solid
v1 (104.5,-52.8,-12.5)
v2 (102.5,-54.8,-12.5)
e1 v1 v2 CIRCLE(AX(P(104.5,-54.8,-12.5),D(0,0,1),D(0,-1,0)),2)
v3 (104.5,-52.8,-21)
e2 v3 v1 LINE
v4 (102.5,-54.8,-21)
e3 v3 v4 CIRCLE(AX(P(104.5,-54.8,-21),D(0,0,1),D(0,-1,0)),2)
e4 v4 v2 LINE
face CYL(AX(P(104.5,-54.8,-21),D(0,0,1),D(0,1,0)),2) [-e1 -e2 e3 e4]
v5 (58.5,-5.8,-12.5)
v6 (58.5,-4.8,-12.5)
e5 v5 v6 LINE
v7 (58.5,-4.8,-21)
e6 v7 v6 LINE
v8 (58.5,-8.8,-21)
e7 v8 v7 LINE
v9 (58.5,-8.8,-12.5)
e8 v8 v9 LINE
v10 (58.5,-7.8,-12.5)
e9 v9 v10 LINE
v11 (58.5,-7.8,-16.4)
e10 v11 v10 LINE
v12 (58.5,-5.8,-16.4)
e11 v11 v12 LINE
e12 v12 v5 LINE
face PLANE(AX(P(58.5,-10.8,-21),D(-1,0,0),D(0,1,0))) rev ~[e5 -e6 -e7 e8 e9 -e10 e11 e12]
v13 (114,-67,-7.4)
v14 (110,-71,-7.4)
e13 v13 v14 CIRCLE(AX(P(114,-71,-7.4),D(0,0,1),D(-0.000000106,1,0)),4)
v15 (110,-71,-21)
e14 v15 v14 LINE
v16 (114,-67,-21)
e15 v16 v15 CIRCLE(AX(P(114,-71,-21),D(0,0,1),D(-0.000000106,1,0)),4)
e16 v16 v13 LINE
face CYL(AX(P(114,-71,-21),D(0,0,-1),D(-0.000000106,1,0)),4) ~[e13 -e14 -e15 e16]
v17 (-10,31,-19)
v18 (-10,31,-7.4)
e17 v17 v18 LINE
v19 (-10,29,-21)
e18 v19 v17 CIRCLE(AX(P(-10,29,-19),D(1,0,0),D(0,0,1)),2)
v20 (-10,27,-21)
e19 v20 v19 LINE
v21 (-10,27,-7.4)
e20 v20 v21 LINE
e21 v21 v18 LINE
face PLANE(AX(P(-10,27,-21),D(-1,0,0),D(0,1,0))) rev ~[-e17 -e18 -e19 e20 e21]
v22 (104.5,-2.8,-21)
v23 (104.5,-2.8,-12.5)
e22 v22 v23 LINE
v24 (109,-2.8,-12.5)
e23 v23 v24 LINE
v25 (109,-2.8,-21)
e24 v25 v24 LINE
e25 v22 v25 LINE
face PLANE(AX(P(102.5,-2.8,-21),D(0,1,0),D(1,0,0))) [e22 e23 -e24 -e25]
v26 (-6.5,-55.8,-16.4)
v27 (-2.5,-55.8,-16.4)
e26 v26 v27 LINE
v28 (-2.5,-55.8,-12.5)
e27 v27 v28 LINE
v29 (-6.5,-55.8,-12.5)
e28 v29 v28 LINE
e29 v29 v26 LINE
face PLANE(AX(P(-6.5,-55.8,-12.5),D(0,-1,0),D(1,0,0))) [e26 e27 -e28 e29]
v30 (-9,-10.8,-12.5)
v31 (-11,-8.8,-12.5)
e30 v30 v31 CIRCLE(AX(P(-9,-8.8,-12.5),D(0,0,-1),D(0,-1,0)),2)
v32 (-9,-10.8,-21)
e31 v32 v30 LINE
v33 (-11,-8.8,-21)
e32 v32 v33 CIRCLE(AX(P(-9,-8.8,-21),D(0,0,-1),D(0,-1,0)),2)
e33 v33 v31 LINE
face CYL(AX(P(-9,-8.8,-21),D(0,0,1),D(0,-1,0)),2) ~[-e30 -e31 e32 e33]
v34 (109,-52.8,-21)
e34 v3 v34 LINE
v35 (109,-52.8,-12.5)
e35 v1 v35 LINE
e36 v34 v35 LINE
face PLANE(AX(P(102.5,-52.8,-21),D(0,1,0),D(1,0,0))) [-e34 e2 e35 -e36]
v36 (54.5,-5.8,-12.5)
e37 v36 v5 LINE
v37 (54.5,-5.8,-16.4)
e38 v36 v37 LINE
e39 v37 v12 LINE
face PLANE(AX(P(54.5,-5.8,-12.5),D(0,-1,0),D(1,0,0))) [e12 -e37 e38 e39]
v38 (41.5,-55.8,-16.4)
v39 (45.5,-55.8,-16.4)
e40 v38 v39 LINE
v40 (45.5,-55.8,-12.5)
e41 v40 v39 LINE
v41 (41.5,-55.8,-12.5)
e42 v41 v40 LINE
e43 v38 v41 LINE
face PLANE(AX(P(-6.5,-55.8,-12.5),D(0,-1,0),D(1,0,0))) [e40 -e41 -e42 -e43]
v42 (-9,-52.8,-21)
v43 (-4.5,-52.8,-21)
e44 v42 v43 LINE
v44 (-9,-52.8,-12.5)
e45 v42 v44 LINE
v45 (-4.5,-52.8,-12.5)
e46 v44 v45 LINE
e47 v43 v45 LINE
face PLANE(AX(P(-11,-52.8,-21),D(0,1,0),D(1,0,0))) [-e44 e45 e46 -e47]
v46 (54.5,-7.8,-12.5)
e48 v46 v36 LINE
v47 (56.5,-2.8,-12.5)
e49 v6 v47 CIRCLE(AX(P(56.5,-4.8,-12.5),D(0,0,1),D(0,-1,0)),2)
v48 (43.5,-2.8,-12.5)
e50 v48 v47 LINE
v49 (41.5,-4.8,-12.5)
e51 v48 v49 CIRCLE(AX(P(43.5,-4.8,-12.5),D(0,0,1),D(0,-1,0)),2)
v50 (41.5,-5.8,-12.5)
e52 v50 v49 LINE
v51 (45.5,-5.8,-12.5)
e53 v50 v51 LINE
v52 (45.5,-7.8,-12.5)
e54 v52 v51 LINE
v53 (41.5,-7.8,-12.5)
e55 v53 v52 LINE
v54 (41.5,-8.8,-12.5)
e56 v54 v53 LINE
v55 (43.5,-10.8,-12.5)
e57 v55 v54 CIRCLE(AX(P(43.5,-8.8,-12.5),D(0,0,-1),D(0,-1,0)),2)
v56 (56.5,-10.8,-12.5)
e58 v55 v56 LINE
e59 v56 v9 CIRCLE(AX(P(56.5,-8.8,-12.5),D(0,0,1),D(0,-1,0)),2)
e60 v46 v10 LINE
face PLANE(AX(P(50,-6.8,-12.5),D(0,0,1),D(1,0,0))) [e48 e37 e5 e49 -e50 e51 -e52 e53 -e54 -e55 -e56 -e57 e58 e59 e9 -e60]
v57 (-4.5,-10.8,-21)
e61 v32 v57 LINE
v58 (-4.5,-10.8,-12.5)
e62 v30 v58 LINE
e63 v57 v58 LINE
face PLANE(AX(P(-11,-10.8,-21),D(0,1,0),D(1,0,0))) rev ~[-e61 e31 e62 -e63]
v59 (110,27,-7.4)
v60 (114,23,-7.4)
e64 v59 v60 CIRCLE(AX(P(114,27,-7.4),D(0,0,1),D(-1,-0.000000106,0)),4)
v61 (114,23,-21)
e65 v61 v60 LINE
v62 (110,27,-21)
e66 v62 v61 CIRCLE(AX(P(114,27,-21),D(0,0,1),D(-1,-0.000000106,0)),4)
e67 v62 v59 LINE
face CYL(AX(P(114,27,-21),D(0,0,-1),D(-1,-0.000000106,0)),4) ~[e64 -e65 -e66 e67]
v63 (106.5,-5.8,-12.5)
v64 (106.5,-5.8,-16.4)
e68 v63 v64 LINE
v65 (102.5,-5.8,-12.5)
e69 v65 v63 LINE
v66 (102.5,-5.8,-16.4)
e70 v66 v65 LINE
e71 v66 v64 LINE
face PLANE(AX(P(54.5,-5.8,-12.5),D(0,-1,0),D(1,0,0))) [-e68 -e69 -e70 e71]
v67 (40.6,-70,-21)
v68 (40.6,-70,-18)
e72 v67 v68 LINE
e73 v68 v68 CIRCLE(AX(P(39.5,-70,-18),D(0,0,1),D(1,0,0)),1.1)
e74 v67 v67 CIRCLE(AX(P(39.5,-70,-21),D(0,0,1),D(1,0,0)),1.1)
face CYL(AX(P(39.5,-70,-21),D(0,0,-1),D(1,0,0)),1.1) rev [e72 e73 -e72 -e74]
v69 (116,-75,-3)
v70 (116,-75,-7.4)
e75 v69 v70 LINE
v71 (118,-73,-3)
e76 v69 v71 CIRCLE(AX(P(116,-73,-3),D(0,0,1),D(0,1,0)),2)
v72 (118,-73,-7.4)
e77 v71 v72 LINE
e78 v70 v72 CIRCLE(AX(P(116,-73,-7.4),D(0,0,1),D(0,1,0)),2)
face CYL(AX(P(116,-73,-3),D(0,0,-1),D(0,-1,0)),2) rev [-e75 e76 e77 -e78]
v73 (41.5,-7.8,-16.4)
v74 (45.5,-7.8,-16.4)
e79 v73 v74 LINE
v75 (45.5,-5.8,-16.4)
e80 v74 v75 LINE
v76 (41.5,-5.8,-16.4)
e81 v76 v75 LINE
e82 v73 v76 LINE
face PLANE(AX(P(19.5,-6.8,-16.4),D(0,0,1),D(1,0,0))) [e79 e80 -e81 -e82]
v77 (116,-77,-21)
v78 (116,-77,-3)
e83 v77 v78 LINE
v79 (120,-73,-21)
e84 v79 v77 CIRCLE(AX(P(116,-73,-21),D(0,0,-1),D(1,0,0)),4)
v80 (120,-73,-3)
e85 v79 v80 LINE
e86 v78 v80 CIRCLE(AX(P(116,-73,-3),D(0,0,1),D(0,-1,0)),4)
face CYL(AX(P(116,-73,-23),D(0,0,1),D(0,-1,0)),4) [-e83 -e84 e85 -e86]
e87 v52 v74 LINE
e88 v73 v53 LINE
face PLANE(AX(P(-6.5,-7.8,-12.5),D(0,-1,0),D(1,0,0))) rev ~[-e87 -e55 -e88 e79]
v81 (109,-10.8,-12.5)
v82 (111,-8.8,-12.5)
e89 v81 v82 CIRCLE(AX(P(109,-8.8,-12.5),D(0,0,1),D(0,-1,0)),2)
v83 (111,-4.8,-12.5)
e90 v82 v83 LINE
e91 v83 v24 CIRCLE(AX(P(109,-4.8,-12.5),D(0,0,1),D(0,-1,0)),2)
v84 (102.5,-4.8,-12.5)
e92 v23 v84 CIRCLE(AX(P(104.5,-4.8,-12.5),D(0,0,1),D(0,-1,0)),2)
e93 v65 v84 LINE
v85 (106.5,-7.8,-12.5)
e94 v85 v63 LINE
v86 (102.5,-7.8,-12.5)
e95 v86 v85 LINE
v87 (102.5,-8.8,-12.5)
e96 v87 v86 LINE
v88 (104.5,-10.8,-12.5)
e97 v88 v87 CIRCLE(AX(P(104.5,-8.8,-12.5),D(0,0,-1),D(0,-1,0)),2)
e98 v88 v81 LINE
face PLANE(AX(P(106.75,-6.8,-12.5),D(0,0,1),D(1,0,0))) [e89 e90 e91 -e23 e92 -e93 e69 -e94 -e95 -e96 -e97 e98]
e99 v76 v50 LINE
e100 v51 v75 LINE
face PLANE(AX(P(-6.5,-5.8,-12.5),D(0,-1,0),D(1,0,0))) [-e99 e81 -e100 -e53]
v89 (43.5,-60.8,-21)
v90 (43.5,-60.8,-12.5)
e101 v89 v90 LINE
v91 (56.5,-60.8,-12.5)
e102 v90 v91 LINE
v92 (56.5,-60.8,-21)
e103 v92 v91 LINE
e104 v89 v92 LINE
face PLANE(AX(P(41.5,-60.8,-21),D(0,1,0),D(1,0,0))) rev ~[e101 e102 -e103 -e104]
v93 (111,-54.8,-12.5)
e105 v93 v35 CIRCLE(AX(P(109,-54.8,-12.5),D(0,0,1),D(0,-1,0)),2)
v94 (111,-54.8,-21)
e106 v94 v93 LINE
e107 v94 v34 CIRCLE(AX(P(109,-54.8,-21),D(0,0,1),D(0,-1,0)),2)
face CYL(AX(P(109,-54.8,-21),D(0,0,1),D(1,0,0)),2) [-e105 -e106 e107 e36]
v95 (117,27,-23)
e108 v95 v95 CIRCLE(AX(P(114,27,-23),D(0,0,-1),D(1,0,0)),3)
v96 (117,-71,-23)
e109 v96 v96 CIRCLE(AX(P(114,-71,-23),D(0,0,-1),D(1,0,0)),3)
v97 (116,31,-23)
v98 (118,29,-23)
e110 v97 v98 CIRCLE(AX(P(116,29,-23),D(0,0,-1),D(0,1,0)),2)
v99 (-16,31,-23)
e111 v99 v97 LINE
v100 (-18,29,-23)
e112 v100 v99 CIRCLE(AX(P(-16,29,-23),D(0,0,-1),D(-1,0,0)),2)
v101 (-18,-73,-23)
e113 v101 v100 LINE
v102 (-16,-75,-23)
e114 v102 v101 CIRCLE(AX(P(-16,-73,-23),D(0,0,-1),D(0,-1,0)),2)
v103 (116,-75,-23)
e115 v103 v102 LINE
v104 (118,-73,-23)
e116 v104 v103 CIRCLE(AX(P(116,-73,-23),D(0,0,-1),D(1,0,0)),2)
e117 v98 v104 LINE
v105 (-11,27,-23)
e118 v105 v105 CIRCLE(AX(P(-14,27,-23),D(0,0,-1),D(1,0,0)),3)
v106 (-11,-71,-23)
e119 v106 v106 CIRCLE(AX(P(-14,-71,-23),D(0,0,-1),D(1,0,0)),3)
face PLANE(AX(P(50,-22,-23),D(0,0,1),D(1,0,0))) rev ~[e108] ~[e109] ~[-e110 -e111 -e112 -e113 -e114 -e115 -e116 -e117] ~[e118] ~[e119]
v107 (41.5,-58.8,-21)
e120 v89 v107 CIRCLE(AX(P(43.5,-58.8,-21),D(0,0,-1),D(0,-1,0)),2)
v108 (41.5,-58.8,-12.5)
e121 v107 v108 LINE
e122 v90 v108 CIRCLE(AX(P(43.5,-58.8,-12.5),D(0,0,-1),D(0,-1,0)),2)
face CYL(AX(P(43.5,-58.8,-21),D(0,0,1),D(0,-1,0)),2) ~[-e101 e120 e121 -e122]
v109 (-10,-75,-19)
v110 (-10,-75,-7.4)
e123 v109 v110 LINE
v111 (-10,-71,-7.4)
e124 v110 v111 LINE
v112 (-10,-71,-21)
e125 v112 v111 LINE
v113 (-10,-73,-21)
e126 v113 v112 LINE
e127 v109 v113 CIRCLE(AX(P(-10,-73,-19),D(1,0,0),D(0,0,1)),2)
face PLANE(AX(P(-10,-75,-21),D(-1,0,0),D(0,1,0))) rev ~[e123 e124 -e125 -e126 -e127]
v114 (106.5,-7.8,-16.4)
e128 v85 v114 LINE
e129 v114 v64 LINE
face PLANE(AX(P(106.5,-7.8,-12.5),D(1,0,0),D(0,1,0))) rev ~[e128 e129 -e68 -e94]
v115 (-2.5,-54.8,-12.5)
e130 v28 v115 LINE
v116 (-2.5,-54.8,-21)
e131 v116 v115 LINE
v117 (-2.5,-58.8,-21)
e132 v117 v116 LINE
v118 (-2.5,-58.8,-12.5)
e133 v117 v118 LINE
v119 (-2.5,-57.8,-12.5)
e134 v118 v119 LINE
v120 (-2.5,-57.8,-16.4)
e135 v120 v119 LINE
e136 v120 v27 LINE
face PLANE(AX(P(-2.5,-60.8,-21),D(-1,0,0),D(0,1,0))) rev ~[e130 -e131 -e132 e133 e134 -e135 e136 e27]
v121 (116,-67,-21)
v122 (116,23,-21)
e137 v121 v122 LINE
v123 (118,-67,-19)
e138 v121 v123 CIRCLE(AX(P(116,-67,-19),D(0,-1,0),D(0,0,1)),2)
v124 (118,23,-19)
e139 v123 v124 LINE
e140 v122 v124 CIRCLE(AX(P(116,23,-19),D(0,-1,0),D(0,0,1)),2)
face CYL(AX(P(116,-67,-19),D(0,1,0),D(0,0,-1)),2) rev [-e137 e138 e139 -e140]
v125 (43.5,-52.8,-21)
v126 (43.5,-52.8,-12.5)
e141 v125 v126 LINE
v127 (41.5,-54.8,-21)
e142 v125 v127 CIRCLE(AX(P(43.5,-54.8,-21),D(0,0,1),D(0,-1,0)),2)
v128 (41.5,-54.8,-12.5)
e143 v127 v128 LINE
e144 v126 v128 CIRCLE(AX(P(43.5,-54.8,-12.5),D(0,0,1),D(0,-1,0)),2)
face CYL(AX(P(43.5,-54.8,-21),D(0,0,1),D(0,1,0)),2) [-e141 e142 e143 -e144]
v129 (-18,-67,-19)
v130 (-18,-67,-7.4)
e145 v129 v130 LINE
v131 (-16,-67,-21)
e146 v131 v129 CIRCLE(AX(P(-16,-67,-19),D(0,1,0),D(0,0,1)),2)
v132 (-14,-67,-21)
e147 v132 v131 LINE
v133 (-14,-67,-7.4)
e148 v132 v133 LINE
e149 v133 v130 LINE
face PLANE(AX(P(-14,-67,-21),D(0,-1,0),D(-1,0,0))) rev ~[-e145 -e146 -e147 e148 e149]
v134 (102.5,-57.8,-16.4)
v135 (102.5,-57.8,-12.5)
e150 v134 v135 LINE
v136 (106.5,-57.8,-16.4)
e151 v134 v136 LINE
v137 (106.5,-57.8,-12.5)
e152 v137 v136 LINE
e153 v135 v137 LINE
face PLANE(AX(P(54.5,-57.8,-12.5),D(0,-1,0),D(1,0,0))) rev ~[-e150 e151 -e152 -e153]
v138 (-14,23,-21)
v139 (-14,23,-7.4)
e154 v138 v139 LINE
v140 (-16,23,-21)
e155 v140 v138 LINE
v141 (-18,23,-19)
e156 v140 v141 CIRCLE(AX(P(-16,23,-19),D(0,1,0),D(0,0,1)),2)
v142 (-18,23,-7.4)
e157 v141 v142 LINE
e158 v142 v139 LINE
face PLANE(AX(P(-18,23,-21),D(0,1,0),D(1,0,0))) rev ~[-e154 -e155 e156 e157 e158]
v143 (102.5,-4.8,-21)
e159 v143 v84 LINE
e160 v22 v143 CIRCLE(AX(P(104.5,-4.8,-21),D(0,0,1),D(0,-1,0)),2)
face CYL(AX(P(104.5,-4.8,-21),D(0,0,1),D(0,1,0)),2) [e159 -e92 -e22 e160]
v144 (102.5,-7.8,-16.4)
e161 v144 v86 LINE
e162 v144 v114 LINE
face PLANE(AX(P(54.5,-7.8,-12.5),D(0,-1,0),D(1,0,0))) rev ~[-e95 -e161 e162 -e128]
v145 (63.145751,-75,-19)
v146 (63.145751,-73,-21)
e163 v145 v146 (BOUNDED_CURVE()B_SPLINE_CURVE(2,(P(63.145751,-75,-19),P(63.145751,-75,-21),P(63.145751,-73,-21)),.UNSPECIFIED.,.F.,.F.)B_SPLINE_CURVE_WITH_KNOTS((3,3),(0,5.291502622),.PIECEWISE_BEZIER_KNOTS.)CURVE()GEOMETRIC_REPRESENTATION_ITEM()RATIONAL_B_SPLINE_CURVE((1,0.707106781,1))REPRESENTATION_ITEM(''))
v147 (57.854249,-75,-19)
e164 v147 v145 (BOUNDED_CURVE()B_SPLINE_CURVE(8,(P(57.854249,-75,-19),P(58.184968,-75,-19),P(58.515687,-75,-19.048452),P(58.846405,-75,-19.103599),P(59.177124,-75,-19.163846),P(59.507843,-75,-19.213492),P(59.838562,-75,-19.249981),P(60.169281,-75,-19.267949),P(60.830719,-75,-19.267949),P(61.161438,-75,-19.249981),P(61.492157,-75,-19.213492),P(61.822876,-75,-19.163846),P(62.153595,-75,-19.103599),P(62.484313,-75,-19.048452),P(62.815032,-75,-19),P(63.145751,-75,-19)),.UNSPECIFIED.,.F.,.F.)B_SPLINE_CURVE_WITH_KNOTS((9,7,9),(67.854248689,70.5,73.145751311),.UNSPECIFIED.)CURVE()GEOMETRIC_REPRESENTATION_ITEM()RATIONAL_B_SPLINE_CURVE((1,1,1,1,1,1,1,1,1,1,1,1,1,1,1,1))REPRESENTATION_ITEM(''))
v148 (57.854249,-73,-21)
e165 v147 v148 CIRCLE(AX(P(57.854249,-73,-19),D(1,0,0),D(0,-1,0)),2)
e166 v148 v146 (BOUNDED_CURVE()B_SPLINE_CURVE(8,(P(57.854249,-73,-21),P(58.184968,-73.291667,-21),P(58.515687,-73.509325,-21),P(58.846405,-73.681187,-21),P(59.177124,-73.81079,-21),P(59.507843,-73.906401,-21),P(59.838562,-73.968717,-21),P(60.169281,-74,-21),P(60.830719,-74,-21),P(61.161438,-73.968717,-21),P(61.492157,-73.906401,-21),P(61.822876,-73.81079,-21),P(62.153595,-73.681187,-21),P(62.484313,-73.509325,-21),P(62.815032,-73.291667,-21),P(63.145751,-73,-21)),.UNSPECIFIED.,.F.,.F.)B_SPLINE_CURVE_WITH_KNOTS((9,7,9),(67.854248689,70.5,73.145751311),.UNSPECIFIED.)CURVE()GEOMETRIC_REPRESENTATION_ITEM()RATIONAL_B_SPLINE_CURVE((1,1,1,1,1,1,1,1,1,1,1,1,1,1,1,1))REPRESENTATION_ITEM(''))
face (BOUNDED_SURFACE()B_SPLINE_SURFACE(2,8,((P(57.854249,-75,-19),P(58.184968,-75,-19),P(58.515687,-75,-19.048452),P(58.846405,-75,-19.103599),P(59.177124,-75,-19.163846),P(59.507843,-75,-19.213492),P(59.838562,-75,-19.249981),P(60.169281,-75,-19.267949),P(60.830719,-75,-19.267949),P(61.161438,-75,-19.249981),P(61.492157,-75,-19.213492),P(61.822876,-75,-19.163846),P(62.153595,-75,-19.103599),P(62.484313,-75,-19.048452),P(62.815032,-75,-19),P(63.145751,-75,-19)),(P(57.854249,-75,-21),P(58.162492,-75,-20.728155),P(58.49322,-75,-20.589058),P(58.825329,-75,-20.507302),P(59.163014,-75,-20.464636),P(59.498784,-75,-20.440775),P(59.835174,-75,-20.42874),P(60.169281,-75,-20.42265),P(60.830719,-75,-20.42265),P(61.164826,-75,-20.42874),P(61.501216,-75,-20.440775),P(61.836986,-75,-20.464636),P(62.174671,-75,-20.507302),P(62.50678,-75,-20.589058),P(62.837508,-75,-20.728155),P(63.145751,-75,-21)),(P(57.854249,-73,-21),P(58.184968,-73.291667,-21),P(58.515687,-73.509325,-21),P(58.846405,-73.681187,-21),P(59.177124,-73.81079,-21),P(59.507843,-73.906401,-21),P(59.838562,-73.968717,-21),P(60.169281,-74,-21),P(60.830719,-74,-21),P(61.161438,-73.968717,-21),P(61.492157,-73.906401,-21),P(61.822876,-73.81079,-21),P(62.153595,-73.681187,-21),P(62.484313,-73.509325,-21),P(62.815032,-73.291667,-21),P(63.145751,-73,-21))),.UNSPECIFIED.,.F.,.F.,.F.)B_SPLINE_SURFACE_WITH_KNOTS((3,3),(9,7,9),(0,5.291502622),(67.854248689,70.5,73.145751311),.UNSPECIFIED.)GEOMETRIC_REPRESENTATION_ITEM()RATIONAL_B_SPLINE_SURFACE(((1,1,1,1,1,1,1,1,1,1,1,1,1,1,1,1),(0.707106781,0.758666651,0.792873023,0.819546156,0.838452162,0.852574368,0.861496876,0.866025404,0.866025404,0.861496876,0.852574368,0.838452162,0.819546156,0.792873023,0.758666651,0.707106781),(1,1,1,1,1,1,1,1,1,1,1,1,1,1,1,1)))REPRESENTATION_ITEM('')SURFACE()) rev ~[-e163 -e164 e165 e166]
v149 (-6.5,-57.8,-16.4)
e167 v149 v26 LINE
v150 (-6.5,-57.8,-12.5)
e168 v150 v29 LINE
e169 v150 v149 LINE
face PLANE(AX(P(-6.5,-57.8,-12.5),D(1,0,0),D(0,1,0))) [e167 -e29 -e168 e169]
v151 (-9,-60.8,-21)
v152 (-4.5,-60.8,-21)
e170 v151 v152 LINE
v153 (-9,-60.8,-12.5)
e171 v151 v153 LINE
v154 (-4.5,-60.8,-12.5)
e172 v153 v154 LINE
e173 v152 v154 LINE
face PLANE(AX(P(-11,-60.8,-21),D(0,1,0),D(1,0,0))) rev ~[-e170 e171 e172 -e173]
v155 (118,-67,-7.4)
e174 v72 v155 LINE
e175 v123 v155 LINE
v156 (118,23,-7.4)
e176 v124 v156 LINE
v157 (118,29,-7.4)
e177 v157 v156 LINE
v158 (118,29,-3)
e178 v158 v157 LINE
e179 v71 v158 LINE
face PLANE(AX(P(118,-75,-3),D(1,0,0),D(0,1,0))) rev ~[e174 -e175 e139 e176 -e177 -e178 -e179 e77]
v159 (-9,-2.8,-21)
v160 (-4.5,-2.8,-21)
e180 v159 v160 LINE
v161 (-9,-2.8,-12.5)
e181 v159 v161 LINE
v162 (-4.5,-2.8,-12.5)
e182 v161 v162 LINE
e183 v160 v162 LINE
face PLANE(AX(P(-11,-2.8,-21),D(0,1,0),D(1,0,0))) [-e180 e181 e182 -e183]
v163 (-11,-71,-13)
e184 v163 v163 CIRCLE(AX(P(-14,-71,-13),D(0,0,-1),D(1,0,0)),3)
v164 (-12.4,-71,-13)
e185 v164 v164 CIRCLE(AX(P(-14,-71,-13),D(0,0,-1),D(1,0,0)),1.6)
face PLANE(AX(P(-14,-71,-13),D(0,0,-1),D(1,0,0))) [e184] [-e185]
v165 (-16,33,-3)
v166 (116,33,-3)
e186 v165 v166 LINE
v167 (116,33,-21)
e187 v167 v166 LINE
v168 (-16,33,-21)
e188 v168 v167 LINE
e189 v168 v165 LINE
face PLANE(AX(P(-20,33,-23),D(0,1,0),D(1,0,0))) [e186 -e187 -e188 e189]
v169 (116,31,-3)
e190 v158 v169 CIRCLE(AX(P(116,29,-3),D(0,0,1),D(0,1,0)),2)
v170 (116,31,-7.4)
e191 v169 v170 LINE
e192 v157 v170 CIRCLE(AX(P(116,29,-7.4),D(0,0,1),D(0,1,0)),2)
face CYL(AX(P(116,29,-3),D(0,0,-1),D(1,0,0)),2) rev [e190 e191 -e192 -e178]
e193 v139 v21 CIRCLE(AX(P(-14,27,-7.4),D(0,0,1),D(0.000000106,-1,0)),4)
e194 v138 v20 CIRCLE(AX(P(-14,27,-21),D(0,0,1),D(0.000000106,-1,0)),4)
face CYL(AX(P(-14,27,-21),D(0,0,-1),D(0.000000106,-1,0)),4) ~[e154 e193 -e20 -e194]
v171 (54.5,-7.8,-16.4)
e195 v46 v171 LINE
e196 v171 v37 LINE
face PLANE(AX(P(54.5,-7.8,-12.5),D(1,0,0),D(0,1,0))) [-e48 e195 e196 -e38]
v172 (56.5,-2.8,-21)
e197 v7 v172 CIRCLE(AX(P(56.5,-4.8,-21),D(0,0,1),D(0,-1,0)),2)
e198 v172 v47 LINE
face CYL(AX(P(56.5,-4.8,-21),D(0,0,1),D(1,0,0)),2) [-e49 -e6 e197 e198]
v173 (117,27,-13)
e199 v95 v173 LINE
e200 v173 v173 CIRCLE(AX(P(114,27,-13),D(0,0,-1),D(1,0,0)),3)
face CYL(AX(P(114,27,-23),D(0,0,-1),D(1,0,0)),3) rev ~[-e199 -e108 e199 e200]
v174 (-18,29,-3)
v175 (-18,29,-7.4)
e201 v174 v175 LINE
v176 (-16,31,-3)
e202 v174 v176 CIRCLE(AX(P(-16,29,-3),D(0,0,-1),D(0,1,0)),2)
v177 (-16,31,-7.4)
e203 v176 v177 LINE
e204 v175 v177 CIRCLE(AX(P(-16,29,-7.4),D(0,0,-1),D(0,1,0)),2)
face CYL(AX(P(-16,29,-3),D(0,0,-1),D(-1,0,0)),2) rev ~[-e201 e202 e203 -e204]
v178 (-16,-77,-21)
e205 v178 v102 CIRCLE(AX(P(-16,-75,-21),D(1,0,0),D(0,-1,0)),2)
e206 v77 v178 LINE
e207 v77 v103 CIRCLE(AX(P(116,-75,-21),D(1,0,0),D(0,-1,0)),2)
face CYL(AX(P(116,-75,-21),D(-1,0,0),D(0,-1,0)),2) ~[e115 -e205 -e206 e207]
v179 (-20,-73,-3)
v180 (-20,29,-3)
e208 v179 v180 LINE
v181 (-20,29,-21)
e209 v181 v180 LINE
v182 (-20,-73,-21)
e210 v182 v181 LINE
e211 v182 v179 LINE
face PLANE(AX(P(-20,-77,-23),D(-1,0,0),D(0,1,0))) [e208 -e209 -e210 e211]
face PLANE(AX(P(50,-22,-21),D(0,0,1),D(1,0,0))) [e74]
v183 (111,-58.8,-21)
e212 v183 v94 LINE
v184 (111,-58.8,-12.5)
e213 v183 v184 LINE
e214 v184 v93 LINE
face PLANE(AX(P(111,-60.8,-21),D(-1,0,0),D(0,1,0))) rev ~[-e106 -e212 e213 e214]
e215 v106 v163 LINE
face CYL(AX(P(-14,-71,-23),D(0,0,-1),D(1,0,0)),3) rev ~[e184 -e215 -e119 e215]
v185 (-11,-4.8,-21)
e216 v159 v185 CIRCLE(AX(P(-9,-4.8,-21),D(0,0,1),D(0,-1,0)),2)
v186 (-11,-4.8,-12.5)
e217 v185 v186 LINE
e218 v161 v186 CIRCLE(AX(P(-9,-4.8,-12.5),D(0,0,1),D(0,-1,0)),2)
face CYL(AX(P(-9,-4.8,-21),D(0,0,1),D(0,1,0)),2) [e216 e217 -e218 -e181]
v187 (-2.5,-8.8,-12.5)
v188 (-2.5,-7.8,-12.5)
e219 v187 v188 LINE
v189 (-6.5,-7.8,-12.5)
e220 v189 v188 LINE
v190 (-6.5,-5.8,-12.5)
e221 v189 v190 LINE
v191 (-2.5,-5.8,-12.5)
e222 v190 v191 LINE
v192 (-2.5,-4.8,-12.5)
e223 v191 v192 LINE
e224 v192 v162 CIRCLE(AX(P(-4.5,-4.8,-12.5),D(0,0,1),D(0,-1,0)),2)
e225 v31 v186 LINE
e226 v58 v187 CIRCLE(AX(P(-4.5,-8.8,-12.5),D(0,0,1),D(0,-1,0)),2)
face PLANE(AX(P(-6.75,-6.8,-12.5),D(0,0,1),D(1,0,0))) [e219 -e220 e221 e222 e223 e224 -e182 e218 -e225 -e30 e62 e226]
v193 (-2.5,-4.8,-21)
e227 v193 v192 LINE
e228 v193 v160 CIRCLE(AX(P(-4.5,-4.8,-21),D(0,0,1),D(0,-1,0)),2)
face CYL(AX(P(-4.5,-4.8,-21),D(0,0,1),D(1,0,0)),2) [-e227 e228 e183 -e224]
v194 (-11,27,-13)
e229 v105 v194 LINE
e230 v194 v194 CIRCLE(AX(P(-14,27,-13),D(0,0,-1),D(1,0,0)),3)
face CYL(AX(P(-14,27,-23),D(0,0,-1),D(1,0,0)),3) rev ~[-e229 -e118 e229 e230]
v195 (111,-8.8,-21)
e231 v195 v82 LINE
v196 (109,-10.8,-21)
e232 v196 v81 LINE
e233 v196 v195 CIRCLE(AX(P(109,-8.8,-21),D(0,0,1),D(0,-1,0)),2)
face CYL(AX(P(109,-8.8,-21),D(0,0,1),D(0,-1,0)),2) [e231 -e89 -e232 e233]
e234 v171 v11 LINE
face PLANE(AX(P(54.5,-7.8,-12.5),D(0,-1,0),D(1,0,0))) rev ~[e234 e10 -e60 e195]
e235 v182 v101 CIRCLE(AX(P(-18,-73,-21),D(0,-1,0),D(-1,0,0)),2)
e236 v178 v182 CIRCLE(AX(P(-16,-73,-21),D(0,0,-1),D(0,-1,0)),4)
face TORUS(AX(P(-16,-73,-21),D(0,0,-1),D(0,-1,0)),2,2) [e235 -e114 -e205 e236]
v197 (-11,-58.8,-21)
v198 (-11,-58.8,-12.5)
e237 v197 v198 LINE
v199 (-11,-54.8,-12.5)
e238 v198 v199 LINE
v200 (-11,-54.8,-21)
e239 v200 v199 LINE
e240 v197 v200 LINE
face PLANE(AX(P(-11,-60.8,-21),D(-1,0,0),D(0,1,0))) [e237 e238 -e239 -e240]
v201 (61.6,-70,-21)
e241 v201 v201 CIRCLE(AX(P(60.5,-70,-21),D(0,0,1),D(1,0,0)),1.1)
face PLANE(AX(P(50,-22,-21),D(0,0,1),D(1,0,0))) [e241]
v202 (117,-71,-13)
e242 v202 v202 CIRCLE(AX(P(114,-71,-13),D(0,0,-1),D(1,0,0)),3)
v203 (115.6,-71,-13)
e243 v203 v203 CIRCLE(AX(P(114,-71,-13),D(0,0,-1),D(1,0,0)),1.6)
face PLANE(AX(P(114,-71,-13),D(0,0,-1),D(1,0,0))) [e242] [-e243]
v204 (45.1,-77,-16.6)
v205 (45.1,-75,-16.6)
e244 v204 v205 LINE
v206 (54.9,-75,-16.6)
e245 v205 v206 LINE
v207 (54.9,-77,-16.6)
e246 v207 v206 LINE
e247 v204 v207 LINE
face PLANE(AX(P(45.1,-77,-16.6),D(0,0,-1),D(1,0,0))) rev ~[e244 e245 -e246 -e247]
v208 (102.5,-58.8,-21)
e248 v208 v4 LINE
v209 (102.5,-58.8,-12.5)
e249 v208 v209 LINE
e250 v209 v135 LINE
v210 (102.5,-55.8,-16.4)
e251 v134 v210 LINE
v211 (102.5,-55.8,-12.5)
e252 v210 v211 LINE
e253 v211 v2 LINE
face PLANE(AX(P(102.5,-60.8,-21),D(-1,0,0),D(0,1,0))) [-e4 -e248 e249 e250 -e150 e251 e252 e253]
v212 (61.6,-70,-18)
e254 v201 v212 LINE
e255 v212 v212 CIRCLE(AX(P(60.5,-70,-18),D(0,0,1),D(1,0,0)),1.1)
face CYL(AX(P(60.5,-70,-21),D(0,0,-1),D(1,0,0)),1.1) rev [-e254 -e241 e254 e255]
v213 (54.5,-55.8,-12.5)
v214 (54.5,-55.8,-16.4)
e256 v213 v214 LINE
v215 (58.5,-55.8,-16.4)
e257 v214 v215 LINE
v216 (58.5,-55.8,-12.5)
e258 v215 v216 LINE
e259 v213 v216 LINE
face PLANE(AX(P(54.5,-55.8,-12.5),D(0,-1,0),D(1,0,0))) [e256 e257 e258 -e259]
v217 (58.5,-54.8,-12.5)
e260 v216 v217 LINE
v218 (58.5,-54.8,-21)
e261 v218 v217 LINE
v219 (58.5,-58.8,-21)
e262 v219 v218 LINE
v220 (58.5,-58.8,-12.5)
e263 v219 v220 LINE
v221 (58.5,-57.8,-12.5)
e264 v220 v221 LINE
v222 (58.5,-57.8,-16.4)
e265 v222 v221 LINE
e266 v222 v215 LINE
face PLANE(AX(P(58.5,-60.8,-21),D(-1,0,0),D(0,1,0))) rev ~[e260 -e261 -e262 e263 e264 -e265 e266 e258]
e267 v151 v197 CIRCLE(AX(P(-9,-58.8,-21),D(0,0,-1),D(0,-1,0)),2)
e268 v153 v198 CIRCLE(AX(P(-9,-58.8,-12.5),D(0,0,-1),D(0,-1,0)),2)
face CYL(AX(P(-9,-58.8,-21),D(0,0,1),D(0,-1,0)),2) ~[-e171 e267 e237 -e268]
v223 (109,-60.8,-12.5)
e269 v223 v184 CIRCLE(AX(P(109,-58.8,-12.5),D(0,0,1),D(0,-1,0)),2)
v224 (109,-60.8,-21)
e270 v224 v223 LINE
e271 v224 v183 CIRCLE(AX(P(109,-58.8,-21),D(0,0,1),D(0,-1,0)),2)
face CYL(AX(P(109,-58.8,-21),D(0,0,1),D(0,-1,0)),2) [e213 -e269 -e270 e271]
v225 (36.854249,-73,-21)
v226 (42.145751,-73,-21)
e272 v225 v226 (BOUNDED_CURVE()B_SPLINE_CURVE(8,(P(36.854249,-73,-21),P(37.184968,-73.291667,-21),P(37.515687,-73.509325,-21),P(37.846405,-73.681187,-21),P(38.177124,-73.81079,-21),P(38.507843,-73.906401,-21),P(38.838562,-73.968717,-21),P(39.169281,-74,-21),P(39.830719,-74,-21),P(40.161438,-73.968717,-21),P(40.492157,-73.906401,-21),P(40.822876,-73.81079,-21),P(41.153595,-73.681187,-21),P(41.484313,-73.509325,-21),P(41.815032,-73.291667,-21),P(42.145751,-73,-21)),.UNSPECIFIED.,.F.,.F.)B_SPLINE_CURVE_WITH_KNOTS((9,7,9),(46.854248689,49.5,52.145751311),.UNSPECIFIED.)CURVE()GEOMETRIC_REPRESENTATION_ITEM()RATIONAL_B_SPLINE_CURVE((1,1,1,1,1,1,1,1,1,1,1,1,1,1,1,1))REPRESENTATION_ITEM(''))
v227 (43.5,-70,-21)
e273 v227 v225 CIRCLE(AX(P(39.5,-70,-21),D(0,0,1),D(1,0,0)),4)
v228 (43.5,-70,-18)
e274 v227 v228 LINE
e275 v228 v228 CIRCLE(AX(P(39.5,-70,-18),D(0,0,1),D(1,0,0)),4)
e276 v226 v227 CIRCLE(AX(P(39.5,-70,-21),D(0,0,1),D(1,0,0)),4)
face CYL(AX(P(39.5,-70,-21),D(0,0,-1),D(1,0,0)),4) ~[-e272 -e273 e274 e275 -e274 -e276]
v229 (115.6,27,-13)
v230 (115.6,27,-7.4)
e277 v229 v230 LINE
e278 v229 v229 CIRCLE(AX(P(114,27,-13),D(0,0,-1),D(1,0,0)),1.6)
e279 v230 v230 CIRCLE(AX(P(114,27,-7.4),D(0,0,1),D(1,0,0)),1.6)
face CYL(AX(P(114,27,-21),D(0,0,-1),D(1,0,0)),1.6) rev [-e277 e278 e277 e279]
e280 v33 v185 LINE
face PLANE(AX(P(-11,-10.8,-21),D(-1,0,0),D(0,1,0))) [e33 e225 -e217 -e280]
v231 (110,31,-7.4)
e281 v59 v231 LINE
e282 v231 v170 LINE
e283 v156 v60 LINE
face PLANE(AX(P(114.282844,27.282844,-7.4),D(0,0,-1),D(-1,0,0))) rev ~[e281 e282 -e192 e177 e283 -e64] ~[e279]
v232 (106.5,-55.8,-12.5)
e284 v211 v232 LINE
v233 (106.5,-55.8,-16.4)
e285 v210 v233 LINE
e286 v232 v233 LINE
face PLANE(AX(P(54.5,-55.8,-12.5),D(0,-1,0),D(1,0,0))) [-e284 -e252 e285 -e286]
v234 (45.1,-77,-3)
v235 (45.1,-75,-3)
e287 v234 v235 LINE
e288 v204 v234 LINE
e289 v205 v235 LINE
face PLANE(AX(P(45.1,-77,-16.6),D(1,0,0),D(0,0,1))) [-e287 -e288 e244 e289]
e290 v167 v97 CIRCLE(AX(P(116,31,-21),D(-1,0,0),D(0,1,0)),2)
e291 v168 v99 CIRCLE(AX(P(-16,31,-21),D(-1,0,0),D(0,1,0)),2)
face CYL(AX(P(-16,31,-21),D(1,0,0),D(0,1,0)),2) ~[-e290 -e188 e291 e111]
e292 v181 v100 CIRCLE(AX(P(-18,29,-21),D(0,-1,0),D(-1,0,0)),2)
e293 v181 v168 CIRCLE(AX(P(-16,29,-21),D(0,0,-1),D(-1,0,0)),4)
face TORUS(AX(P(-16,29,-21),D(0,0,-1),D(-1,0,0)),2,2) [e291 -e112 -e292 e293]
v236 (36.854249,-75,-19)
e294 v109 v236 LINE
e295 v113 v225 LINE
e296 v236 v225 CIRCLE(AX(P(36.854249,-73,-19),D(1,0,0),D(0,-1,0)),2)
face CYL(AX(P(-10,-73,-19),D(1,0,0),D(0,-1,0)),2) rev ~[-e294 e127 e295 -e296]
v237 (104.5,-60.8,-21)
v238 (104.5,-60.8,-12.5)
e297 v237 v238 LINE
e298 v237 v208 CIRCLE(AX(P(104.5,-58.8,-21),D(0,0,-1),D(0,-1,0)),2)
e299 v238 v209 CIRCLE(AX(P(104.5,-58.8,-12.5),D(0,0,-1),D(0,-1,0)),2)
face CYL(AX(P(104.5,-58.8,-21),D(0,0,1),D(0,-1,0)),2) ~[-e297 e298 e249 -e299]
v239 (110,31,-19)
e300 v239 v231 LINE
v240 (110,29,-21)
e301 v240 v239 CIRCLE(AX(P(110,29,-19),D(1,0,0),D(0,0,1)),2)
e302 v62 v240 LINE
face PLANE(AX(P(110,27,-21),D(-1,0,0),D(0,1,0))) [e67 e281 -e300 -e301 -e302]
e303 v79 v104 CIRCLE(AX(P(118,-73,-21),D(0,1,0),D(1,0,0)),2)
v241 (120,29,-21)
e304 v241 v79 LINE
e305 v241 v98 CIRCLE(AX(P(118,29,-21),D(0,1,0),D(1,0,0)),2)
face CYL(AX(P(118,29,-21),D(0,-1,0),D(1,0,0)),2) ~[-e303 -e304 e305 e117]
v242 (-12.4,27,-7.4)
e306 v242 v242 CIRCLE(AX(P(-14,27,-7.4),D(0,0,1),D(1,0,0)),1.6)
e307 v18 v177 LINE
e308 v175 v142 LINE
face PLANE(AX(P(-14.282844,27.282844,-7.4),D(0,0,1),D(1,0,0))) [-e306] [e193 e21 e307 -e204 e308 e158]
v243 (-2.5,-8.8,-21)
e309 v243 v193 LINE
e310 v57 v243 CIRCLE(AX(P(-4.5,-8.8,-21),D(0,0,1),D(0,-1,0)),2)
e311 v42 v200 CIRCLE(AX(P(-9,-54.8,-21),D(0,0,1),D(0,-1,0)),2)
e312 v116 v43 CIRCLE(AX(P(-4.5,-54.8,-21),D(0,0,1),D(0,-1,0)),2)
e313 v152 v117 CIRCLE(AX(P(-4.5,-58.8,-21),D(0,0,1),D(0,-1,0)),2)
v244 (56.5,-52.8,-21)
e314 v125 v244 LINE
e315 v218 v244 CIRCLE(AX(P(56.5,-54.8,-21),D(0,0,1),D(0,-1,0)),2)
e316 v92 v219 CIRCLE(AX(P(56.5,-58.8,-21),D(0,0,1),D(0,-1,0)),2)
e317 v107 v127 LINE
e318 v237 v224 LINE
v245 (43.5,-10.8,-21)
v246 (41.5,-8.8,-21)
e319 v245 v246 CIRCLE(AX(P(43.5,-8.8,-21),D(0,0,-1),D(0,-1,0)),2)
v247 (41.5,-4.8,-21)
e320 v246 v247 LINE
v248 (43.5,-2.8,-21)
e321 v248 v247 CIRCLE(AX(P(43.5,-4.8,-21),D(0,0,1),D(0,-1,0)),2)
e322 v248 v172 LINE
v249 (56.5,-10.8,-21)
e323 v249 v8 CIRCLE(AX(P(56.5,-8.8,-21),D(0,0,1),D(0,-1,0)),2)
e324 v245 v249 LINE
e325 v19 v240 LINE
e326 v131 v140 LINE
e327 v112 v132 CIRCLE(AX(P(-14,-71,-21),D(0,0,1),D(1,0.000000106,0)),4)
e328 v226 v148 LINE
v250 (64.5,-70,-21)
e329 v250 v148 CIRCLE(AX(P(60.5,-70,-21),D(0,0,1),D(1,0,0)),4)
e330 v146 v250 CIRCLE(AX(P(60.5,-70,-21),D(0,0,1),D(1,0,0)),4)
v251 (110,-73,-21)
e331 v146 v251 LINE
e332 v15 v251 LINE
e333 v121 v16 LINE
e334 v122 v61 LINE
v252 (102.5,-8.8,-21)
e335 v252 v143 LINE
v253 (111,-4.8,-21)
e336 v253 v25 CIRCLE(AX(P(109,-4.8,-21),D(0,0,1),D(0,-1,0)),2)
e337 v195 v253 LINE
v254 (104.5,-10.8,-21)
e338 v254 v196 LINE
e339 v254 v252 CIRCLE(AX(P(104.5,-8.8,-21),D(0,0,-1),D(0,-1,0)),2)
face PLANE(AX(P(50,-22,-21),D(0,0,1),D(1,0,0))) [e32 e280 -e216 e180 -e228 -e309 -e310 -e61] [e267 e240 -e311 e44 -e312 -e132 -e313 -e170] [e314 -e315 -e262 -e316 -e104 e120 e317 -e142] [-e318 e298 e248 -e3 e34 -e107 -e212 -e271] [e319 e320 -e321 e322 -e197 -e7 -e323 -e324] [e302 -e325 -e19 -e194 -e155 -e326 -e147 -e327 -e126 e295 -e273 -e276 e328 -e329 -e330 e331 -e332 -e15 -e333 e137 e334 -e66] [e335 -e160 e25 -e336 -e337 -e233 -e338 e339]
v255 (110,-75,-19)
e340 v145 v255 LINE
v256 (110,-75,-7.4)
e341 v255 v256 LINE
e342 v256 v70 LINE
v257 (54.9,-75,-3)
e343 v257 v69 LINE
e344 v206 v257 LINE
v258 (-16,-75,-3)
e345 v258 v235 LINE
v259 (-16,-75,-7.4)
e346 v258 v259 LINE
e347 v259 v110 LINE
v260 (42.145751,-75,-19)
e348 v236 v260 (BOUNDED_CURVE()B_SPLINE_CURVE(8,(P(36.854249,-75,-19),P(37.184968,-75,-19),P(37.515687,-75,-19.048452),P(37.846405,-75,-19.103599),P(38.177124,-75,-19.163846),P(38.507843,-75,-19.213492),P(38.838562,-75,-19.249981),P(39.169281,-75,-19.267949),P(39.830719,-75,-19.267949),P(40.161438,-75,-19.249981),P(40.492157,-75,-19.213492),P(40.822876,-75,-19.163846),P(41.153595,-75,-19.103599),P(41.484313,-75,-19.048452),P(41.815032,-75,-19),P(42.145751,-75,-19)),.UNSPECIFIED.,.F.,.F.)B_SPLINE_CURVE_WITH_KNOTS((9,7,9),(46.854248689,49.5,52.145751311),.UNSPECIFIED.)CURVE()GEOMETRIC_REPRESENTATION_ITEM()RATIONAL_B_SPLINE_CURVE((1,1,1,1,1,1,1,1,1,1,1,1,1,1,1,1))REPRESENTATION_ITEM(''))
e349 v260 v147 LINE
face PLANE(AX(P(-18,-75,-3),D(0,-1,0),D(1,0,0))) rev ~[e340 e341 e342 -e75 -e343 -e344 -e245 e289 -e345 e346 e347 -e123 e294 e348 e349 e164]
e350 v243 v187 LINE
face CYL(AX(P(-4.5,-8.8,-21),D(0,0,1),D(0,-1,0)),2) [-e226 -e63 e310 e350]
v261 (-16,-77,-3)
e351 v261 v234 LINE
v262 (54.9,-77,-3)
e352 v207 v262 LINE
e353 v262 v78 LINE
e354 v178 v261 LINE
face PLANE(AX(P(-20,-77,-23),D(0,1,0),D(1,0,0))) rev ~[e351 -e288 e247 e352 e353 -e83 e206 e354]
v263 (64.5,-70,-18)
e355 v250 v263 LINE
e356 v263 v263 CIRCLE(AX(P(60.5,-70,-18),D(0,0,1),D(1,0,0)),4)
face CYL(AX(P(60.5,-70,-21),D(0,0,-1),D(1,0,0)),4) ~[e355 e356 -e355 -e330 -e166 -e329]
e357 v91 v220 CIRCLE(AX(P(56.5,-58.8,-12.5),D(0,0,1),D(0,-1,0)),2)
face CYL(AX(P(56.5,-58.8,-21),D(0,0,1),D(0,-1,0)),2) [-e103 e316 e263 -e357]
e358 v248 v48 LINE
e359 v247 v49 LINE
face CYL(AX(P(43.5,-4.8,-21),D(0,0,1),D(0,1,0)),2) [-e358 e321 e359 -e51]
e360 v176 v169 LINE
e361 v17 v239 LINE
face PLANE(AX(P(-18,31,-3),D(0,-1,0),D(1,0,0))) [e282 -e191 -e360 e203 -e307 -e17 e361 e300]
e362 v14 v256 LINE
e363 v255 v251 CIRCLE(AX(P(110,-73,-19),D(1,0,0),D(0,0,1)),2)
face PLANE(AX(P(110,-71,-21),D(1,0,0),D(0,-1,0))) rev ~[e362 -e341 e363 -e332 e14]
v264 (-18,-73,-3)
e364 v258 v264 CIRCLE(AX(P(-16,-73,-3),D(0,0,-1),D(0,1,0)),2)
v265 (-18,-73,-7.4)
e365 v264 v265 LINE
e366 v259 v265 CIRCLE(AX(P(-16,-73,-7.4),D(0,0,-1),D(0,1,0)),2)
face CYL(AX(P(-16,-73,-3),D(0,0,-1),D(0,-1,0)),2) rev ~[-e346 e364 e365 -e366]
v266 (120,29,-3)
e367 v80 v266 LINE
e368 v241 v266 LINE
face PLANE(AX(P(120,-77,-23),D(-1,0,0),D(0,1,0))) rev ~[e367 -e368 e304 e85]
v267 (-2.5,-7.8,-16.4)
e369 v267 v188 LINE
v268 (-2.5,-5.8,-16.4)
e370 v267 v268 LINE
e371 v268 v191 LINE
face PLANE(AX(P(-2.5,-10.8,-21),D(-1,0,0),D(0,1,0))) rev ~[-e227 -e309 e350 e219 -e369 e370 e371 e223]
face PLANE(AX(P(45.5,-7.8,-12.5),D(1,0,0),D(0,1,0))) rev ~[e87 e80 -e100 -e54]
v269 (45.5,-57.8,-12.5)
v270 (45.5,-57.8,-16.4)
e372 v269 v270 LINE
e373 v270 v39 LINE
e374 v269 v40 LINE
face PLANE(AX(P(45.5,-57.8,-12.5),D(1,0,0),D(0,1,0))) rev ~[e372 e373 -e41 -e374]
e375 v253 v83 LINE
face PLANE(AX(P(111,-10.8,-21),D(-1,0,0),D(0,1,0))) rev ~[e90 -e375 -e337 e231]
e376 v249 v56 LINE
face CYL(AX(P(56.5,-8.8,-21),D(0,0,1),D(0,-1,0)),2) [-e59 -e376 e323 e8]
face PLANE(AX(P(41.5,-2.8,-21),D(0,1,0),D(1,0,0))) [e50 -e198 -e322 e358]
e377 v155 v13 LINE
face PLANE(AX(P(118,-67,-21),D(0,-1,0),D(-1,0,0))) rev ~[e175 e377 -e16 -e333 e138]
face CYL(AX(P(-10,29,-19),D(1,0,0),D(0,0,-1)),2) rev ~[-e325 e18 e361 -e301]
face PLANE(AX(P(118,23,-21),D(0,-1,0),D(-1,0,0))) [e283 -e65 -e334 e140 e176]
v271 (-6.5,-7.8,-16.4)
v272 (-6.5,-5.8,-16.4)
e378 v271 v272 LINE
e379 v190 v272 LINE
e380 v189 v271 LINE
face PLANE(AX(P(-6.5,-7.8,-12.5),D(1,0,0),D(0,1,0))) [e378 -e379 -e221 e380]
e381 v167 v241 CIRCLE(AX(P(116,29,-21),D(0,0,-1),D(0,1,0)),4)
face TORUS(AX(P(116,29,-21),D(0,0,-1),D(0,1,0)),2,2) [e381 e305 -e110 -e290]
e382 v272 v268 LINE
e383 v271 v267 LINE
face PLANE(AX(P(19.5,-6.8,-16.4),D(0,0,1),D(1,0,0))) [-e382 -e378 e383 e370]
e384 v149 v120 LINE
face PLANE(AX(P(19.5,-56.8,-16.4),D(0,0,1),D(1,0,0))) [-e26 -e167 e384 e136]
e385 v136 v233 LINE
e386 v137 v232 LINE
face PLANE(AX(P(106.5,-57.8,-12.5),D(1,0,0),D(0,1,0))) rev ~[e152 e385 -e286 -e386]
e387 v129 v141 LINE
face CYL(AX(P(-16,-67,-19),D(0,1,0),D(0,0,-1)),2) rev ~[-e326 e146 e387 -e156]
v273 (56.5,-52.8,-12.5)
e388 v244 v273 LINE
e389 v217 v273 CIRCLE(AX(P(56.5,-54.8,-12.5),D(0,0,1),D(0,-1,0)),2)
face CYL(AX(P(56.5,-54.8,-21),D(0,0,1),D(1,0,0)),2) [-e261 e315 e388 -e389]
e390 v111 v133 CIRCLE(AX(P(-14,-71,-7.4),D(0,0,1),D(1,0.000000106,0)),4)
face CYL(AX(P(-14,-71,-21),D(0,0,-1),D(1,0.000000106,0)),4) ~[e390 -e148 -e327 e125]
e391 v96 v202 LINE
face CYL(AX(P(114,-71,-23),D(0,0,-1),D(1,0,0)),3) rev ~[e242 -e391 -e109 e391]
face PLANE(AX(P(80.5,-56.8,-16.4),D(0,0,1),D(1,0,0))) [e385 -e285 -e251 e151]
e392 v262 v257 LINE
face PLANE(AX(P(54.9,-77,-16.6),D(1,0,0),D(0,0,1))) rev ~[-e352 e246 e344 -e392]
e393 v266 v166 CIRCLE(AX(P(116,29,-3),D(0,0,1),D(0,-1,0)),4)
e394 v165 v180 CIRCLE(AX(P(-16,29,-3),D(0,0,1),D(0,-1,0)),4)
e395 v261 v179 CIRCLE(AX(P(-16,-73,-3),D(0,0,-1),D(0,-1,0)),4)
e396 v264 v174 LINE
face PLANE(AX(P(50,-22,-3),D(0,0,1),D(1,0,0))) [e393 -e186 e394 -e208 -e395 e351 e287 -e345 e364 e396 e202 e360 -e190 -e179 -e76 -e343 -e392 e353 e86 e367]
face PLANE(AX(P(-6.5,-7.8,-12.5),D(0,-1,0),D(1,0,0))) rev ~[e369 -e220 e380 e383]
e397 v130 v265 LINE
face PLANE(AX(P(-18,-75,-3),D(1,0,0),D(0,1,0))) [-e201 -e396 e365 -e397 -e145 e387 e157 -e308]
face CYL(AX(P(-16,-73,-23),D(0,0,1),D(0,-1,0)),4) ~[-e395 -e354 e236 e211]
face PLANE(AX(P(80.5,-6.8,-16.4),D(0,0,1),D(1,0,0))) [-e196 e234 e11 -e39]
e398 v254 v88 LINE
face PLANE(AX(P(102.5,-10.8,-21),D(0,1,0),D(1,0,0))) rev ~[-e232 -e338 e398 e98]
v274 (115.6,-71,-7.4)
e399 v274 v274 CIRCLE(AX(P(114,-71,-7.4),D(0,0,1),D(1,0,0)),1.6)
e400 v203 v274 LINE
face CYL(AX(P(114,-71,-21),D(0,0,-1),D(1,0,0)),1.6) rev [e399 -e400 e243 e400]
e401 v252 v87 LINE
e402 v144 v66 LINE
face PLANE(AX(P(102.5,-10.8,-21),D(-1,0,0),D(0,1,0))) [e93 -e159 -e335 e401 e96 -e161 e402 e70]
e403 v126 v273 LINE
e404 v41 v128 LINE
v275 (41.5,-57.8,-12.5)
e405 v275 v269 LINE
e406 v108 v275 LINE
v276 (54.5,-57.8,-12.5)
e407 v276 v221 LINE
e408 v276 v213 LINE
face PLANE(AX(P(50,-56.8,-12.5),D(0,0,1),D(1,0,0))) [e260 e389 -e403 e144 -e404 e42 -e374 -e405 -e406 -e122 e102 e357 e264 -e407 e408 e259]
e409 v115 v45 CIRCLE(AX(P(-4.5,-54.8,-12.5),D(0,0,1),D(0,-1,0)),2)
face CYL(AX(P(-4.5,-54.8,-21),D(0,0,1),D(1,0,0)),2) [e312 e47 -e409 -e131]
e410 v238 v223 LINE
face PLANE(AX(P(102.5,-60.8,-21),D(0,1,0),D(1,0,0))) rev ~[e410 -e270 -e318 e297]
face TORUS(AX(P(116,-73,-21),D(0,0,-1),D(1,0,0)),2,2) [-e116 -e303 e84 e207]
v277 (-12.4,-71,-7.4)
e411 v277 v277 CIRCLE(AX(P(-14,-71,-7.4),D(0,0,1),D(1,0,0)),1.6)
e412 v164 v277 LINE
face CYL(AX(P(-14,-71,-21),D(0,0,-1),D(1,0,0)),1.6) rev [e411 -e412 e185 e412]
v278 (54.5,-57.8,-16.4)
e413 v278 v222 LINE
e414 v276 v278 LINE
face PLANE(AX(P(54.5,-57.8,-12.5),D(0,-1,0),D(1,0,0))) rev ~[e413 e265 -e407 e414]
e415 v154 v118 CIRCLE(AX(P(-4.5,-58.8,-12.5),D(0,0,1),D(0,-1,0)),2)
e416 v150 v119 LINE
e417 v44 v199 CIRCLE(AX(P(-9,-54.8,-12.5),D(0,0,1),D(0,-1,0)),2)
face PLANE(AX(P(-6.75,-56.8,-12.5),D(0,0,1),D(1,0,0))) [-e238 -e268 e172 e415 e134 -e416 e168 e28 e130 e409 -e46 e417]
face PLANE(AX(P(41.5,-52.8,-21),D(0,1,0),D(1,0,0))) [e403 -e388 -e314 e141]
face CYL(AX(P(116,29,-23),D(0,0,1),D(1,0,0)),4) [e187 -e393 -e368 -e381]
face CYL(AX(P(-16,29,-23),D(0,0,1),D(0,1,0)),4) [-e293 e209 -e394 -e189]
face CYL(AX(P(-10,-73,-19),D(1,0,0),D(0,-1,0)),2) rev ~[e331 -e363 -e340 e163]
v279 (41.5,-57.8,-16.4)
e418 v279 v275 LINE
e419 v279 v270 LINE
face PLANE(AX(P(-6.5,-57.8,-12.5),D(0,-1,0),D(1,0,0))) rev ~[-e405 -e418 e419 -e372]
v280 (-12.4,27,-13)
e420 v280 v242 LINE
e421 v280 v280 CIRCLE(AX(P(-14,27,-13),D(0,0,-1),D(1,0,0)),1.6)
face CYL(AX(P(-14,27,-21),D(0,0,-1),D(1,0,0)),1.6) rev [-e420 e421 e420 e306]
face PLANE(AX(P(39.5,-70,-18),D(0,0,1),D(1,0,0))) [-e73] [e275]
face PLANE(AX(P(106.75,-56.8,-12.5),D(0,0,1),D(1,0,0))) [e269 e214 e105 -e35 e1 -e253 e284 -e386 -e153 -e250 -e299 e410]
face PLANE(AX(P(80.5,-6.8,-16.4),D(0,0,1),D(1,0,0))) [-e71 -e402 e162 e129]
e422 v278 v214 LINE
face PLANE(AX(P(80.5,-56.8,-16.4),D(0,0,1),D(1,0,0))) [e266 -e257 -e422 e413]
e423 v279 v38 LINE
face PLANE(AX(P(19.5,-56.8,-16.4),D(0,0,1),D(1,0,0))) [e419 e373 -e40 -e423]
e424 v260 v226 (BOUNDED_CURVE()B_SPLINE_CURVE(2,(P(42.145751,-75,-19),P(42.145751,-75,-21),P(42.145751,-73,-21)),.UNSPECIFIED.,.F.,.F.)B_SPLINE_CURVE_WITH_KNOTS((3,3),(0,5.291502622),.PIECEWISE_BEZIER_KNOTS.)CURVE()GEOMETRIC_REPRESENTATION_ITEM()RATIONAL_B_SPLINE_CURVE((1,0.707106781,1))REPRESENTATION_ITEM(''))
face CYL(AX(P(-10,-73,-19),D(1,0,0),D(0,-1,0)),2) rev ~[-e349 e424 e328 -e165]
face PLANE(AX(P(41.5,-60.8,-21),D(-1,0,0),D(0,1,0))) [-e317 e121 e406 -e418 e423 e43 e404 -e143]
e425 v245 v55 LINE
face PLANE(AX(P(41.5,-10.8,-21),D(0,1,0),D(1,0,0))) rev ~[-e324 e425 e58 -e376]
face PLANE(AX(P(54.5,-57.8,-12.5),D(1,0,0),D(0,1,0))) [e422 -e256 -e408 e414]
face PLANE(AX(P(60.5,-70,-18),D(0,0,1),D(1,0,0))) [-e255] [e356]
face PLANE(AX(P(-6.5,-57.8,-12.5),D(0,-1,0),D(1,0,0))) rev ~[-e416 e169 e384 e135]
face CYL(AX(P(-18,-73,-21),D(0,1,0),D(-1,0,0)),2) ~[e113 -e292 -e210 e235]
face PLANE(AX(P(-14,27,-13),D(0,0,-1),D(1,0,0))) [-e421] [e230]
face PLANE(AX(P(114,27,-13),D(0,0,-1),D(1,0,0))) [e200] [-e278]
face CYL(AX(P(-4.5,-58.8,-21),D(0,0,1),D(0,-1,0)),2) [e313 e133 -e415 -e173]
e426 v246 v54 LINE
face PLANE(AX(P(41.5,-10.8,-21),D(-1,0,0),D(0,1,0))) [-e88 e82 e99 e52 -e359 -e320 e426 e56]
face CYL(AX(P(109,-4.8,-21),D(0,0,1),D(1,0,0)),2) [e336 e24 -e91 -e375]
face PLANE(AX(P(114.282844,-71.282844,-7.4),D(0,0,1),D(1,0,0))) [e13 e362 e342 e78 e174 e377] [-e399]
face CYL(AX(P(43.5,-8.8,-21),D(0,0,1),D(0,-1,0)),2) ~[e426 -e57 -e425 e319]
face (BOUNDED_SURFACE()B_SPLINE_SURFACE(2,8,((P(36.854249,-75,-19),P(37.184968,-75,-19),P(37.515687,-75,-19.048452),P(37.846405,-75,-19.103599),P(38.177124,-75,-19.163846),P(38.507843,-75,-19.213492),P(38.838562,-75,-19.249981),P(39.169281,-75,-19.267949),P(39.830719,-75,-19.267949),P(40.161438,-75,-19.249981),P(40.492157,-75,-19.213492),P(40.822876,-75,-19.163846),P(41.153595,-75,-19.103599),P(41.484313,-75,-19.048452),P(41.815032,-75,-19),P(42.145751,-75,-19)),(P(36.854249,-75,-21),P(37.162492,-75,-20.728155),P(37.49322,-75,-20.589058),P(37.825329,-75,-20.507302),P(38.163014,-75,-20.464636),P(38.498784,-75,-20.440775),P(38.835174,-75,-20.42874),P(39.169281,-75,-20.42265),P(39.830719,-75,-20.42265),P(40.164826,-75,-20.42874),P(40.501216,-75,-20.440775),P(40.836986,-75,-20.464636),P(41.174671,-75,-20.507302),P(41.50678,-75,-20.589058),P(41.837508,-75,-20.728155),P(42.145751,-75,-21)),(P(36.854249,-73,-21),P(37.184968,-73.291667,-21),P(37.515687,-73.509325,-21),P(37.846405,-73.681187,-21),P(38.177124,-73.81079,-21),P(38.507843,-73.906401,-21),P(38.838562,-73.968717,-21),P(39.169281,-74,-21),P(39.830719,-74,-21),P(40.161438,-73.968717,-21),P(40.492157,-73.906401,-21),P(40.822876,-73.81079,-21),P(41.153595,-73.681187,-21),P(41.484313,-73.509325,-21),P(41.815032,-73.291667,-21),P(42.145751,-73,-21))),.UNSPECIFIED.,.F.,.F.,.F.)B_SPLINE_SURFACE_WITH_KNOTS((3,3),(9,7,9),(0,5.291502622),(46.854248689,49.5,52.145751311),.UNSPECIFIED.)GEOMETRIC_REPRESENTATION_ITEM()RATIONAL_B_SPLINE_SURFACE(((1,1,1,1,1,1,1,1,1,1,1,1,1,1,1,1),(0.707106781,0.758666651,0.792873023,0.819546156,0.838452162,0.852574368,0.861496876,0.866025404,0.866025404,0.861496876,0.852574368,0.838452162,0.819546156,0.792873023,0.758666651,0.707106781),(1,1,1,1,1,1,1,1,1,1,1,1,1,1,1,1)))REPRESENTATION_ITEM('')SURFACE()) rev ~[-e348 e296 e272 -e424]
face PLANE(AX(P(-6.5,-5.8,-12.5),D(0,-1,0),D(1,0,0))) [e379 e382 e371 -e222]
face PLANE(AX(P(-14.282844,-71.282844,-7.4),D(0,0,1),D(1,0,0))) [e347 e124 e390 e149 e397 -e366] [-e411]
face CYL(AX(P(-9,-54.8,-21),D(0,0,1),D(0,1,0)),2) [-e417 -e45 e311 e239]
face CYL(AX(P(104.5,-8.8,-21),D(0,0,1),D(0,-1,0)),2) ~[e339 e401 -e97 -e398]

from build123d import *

# Parameters (mm, degrees)
SKETCH007_W     = 140
SKETCH007_H     = 110
PAD003_DEPTH    = 20
SKETCH008_W     = 136
SKETCH008_H     = 106
POCKET004_DEPTH = 18
SKETCH009_R     = 4
SKETCH009_R_2   = 1.1
PAD004_DEPTH    = 3
SKETCH010_R     = 1.6
PAD005_DEPTH    = 13.6
SKETCH011_R     = 3
POCKET005_DEPTH = 10
SKETCH012_W     = 9.8
SKETCH012_H     = 13.6
POCKET006_DEPTH = 2
SKETCH014_W     = 17
SKETCH014_H     = 8
SKETCH014_W_2   = 8.5
PAD007_DEPTH    = 8.5
SKETCH015_W     = 52
SKETCH015_H     = 2
POCKET007_DEPTH = 3.9
FILLET_R        = 2
FILLET001_R     = 4
FILLET002_R     = 2


with BuildPart() as part:
    # Sketch007 → Pad003 (new body)
    with BuildSketch(Plane.XY):
        with Locations((50, -22)):
            Rectangle(SKETCH007_W, SKETCH007_H)
    extrude(amount=PAD003_DEPTH)

    # Sketch008 (on Face6 of Pad003) → Pocket004 (cut)
    with BuildSketch(Plane.XY.offset(20)):
        with Locations((50, -22)):
            Rectangle(SKETCH008_W, SKETCH008_H)
    extrude(amount=-POCKET004_DEPTH, mode=Mode.SUBTRACT)

    # Sketch009 (on Face11 of Pocket004) → Pad004 (join)
    with BuildSketch(Plane.XY.offset(2)):
        with Locations((39.5, -70)):
            Circle(SKETCH009_R)
        with Locations((39.5, -70)):
            Circle(SKETCH009_R_2, mode=Mode.SUBTRACT)
        with Locations((60.5, -70)):
            Circle(SKETCH009_R)
        with Locations((60.5, -70)):
            Circle(SKETCH009_R_2, mode=Mode.SUBTRACT)
    extrude(amount=PAD004_DEPTH)

    # Sketch010 (on Face11 of Pad004) → Pad005 (join)
    with BuildSketch(Plane.XY.offset(2)):
        with BuildLine():
            Line((110, -71), (110, -75))
            Line((110, -75), (118, -75))
            Line((118, -75), (118, -67))
            Line((118, -67), (114, -67))
            ThreePointArc((114, -67), (111.171573, -68.171573), (110, -71))
        make_face()
        with Locations((114, -71)):
            Circle(SKETCH010_R, mode=Mode.SUBTRACT)
        with BuildLine():
            Line((-14, -67), (-18, -67))
            Line((-18, -67), (-18, -75))
            Line((-18, -75), (-10, -75))
            Line((-10, -75), (-10, -71))
            ThreePointArc((-10, -71), (-11.171573, -68.171573), (-14, -67))
        make_face()
        with Locations((-14, -71)):
            Circle(SKETCH010_R, mode=Mode.SUBTRACT)
        with BuildLine():
            Line((-10, 27), (-10, 31))
            Line((-10, 31), (-18, 31))
            Line((-18, 31), (-18, 23))
            Line((-18, 23), (-14, 23))
            ThreePointArc((-14, 23), (-11.171573, 24.171573), (-10, 27))
        make_face()
        with Locations((-14, 27)):
            Circle(SKETCH010_R, mode=Mode.SUBTRACT)
        with BuildLine():
            Line((110, 27), (110, 31))
            Line((110, 31), (118, 31))
            Line((118, 31), (118, 23))
            Line((118, 23), (114, 23))
            ThreePointArc((110, 27), (111.171573, 24.171573), (114, 23))
        make_face()
        with Locations((114, 27)):
            Circle(SKETCH010_R, mode=Mode.SUBTRACT)
    extrude(amount=PAD005_DEPTH)

    # Sketch011 (on Face4 of Pad005) → Pocket005 (cut)
    with BuildSketch(Plane(origin=(0, 0, 0), x_dir=(1, 0, 0), z_dir=(0, 0, -1))):
        with Locations((-14, 71)):
            Circle(SKETCH011_R)
        with Locations((114, 71)):
            Circle(SKETCH011_R)
        with Locations((-14, -27)):
            Circle(SKETCH011_R)
        with Locations((114, -27)):
            Circle(SKETCH011_R)
    extrude(amount=-POCKET005_DEPTH, mode=Mode.SUBTRACT)

    # Sketch012 (on Face6 of Pocket005) → Pocket006 (cut)
    with BuildSketch(Plane.XZ.offset(77)):
        with Locations((50, 13.2)):
            Rectangle(SKETCH012_W, SKETCH012_H)
    extrude(amount=-POCKET006_DEPTH, mode=Mode.SUBTRACT)

    # Sketch014 (on Face24 of Pocket006) → Pad007 (join)
    with BuildSketch(Plane.XY.offset(2)):
        with Locations((50, -6.8)):
            Rectangle(SKETCH014_W, SKETCH014_H)
        with Locations((50, -56.8)):
            Rectangle(SKETCH014_W, SKETCH014_H)
        with Locations((-6.75, -6.8)):
            Rectangle(SKETCH014_W_2, SKETCH014_H)
        with Locations((106.75, -6.8)):
            Rectangle(SKETCH014_W_2, SKETCH014_H)
        with Locations((-6.75, -56.8)):
            Rectangle(SKETCH014_W_2, SKETCH014_H)
        with Locations((106.75, -56.8)):
            Rectangle(SKETCH014_W_2, SKETCH014_H)
    extrude(amount=PAD007_DEPTH)

    # Sketch015 (on Face74 of Pad007) → Pocket007 (cut)
    with BuildSketch(Plane.XY.offset(10.5)):
        with Locations((19.5, -6.8)):
            Rectangle(SKETCH015_W, SKETCH015_H)
        with Locations((19.5, -56.8)):
            Rectangle(SKETCH015_W, SKETCH015_H)
        with Locations((80.5, -6.8)):
            Rectangle(SKETCH015_W, SKETCH015_H)
        with Locations((80.5, -56.8)):
            Rectangle(SKETCH015_W, SKETCH015_H)
    extrude(amount=-POCKET007_DEPTH, mode=Mode.SUBTRACT)

    # Fillet
    fillet_edges = [part.edges().sort_by_distance(p)[0] for p in [
        (-18, -22, 2),
        (50, 31, 2),
        (118, -22, 2),
        (50, -75, 2),
        (-18, 31, 17.8),
        (118, 31, 17.8),
        (118, -75, 17.8),
        (-18, -75, 17.8),
        (-11, -10.8, 6.25),
        (-2.5, -10.8, 6.25),
        (41.5, -10.8, 6.25),
        (58.5, -10.8, 6.25),
        (102.5, -10.8, 6.25),
        (111, -10.8, 6.25),
        (-11, -60.8, 6.25),
        (-2.5, -60.8, 6.25),
        (41.5, -60.8, 6.25),
        (58.5, -60.8, 6.25),
        (102.5, -60.8, 6.25),
        (111, -60.8, 6.25),
        (-11, -52.8, 6.25),
        (-2.5, -52.8, 6.25),
        (41.5, -52.8, 6.25),
        (58.5, -52.8, 6.25),
        (102.5, -52.8, 6.25),
        (111, -52.8, 6.25),
        (-11, -2.8, 6.25),
        (-2.5, -2.8, 6.25),
        (41.5, -2.8, 6.25),
        (58.5, -2.8, 6.25),
        (102.5, -2.8, 6.25),
        (111, -2.8, 6.25),
    ]]
    fillet(fillet_edges, radius=FILLET_R)

    # Fillet001
    fillet001_edges = [part.edges().sort_by_distance(p)[0] for p in [
        (120, 33, 10),
        (120, -77, 10),
        (-20, 33, 10),
        (-20, -77, 10),
    ]]
    fillet(fillet001_edges, radius=FILLET001_R)

    # Fillet002
    fillet002_edges = [part.edges().sort_by_distance(p)[0] for p in [
        (-20, -22, 0),
    ]]
    fillet(fillet002_edges, radius=FILLET002_R)


with BuildPart() as part_1:
    # Body001 placement: moved
    add(part.part.moved(Location((0, 0, -23))))


solid = part_1.part
